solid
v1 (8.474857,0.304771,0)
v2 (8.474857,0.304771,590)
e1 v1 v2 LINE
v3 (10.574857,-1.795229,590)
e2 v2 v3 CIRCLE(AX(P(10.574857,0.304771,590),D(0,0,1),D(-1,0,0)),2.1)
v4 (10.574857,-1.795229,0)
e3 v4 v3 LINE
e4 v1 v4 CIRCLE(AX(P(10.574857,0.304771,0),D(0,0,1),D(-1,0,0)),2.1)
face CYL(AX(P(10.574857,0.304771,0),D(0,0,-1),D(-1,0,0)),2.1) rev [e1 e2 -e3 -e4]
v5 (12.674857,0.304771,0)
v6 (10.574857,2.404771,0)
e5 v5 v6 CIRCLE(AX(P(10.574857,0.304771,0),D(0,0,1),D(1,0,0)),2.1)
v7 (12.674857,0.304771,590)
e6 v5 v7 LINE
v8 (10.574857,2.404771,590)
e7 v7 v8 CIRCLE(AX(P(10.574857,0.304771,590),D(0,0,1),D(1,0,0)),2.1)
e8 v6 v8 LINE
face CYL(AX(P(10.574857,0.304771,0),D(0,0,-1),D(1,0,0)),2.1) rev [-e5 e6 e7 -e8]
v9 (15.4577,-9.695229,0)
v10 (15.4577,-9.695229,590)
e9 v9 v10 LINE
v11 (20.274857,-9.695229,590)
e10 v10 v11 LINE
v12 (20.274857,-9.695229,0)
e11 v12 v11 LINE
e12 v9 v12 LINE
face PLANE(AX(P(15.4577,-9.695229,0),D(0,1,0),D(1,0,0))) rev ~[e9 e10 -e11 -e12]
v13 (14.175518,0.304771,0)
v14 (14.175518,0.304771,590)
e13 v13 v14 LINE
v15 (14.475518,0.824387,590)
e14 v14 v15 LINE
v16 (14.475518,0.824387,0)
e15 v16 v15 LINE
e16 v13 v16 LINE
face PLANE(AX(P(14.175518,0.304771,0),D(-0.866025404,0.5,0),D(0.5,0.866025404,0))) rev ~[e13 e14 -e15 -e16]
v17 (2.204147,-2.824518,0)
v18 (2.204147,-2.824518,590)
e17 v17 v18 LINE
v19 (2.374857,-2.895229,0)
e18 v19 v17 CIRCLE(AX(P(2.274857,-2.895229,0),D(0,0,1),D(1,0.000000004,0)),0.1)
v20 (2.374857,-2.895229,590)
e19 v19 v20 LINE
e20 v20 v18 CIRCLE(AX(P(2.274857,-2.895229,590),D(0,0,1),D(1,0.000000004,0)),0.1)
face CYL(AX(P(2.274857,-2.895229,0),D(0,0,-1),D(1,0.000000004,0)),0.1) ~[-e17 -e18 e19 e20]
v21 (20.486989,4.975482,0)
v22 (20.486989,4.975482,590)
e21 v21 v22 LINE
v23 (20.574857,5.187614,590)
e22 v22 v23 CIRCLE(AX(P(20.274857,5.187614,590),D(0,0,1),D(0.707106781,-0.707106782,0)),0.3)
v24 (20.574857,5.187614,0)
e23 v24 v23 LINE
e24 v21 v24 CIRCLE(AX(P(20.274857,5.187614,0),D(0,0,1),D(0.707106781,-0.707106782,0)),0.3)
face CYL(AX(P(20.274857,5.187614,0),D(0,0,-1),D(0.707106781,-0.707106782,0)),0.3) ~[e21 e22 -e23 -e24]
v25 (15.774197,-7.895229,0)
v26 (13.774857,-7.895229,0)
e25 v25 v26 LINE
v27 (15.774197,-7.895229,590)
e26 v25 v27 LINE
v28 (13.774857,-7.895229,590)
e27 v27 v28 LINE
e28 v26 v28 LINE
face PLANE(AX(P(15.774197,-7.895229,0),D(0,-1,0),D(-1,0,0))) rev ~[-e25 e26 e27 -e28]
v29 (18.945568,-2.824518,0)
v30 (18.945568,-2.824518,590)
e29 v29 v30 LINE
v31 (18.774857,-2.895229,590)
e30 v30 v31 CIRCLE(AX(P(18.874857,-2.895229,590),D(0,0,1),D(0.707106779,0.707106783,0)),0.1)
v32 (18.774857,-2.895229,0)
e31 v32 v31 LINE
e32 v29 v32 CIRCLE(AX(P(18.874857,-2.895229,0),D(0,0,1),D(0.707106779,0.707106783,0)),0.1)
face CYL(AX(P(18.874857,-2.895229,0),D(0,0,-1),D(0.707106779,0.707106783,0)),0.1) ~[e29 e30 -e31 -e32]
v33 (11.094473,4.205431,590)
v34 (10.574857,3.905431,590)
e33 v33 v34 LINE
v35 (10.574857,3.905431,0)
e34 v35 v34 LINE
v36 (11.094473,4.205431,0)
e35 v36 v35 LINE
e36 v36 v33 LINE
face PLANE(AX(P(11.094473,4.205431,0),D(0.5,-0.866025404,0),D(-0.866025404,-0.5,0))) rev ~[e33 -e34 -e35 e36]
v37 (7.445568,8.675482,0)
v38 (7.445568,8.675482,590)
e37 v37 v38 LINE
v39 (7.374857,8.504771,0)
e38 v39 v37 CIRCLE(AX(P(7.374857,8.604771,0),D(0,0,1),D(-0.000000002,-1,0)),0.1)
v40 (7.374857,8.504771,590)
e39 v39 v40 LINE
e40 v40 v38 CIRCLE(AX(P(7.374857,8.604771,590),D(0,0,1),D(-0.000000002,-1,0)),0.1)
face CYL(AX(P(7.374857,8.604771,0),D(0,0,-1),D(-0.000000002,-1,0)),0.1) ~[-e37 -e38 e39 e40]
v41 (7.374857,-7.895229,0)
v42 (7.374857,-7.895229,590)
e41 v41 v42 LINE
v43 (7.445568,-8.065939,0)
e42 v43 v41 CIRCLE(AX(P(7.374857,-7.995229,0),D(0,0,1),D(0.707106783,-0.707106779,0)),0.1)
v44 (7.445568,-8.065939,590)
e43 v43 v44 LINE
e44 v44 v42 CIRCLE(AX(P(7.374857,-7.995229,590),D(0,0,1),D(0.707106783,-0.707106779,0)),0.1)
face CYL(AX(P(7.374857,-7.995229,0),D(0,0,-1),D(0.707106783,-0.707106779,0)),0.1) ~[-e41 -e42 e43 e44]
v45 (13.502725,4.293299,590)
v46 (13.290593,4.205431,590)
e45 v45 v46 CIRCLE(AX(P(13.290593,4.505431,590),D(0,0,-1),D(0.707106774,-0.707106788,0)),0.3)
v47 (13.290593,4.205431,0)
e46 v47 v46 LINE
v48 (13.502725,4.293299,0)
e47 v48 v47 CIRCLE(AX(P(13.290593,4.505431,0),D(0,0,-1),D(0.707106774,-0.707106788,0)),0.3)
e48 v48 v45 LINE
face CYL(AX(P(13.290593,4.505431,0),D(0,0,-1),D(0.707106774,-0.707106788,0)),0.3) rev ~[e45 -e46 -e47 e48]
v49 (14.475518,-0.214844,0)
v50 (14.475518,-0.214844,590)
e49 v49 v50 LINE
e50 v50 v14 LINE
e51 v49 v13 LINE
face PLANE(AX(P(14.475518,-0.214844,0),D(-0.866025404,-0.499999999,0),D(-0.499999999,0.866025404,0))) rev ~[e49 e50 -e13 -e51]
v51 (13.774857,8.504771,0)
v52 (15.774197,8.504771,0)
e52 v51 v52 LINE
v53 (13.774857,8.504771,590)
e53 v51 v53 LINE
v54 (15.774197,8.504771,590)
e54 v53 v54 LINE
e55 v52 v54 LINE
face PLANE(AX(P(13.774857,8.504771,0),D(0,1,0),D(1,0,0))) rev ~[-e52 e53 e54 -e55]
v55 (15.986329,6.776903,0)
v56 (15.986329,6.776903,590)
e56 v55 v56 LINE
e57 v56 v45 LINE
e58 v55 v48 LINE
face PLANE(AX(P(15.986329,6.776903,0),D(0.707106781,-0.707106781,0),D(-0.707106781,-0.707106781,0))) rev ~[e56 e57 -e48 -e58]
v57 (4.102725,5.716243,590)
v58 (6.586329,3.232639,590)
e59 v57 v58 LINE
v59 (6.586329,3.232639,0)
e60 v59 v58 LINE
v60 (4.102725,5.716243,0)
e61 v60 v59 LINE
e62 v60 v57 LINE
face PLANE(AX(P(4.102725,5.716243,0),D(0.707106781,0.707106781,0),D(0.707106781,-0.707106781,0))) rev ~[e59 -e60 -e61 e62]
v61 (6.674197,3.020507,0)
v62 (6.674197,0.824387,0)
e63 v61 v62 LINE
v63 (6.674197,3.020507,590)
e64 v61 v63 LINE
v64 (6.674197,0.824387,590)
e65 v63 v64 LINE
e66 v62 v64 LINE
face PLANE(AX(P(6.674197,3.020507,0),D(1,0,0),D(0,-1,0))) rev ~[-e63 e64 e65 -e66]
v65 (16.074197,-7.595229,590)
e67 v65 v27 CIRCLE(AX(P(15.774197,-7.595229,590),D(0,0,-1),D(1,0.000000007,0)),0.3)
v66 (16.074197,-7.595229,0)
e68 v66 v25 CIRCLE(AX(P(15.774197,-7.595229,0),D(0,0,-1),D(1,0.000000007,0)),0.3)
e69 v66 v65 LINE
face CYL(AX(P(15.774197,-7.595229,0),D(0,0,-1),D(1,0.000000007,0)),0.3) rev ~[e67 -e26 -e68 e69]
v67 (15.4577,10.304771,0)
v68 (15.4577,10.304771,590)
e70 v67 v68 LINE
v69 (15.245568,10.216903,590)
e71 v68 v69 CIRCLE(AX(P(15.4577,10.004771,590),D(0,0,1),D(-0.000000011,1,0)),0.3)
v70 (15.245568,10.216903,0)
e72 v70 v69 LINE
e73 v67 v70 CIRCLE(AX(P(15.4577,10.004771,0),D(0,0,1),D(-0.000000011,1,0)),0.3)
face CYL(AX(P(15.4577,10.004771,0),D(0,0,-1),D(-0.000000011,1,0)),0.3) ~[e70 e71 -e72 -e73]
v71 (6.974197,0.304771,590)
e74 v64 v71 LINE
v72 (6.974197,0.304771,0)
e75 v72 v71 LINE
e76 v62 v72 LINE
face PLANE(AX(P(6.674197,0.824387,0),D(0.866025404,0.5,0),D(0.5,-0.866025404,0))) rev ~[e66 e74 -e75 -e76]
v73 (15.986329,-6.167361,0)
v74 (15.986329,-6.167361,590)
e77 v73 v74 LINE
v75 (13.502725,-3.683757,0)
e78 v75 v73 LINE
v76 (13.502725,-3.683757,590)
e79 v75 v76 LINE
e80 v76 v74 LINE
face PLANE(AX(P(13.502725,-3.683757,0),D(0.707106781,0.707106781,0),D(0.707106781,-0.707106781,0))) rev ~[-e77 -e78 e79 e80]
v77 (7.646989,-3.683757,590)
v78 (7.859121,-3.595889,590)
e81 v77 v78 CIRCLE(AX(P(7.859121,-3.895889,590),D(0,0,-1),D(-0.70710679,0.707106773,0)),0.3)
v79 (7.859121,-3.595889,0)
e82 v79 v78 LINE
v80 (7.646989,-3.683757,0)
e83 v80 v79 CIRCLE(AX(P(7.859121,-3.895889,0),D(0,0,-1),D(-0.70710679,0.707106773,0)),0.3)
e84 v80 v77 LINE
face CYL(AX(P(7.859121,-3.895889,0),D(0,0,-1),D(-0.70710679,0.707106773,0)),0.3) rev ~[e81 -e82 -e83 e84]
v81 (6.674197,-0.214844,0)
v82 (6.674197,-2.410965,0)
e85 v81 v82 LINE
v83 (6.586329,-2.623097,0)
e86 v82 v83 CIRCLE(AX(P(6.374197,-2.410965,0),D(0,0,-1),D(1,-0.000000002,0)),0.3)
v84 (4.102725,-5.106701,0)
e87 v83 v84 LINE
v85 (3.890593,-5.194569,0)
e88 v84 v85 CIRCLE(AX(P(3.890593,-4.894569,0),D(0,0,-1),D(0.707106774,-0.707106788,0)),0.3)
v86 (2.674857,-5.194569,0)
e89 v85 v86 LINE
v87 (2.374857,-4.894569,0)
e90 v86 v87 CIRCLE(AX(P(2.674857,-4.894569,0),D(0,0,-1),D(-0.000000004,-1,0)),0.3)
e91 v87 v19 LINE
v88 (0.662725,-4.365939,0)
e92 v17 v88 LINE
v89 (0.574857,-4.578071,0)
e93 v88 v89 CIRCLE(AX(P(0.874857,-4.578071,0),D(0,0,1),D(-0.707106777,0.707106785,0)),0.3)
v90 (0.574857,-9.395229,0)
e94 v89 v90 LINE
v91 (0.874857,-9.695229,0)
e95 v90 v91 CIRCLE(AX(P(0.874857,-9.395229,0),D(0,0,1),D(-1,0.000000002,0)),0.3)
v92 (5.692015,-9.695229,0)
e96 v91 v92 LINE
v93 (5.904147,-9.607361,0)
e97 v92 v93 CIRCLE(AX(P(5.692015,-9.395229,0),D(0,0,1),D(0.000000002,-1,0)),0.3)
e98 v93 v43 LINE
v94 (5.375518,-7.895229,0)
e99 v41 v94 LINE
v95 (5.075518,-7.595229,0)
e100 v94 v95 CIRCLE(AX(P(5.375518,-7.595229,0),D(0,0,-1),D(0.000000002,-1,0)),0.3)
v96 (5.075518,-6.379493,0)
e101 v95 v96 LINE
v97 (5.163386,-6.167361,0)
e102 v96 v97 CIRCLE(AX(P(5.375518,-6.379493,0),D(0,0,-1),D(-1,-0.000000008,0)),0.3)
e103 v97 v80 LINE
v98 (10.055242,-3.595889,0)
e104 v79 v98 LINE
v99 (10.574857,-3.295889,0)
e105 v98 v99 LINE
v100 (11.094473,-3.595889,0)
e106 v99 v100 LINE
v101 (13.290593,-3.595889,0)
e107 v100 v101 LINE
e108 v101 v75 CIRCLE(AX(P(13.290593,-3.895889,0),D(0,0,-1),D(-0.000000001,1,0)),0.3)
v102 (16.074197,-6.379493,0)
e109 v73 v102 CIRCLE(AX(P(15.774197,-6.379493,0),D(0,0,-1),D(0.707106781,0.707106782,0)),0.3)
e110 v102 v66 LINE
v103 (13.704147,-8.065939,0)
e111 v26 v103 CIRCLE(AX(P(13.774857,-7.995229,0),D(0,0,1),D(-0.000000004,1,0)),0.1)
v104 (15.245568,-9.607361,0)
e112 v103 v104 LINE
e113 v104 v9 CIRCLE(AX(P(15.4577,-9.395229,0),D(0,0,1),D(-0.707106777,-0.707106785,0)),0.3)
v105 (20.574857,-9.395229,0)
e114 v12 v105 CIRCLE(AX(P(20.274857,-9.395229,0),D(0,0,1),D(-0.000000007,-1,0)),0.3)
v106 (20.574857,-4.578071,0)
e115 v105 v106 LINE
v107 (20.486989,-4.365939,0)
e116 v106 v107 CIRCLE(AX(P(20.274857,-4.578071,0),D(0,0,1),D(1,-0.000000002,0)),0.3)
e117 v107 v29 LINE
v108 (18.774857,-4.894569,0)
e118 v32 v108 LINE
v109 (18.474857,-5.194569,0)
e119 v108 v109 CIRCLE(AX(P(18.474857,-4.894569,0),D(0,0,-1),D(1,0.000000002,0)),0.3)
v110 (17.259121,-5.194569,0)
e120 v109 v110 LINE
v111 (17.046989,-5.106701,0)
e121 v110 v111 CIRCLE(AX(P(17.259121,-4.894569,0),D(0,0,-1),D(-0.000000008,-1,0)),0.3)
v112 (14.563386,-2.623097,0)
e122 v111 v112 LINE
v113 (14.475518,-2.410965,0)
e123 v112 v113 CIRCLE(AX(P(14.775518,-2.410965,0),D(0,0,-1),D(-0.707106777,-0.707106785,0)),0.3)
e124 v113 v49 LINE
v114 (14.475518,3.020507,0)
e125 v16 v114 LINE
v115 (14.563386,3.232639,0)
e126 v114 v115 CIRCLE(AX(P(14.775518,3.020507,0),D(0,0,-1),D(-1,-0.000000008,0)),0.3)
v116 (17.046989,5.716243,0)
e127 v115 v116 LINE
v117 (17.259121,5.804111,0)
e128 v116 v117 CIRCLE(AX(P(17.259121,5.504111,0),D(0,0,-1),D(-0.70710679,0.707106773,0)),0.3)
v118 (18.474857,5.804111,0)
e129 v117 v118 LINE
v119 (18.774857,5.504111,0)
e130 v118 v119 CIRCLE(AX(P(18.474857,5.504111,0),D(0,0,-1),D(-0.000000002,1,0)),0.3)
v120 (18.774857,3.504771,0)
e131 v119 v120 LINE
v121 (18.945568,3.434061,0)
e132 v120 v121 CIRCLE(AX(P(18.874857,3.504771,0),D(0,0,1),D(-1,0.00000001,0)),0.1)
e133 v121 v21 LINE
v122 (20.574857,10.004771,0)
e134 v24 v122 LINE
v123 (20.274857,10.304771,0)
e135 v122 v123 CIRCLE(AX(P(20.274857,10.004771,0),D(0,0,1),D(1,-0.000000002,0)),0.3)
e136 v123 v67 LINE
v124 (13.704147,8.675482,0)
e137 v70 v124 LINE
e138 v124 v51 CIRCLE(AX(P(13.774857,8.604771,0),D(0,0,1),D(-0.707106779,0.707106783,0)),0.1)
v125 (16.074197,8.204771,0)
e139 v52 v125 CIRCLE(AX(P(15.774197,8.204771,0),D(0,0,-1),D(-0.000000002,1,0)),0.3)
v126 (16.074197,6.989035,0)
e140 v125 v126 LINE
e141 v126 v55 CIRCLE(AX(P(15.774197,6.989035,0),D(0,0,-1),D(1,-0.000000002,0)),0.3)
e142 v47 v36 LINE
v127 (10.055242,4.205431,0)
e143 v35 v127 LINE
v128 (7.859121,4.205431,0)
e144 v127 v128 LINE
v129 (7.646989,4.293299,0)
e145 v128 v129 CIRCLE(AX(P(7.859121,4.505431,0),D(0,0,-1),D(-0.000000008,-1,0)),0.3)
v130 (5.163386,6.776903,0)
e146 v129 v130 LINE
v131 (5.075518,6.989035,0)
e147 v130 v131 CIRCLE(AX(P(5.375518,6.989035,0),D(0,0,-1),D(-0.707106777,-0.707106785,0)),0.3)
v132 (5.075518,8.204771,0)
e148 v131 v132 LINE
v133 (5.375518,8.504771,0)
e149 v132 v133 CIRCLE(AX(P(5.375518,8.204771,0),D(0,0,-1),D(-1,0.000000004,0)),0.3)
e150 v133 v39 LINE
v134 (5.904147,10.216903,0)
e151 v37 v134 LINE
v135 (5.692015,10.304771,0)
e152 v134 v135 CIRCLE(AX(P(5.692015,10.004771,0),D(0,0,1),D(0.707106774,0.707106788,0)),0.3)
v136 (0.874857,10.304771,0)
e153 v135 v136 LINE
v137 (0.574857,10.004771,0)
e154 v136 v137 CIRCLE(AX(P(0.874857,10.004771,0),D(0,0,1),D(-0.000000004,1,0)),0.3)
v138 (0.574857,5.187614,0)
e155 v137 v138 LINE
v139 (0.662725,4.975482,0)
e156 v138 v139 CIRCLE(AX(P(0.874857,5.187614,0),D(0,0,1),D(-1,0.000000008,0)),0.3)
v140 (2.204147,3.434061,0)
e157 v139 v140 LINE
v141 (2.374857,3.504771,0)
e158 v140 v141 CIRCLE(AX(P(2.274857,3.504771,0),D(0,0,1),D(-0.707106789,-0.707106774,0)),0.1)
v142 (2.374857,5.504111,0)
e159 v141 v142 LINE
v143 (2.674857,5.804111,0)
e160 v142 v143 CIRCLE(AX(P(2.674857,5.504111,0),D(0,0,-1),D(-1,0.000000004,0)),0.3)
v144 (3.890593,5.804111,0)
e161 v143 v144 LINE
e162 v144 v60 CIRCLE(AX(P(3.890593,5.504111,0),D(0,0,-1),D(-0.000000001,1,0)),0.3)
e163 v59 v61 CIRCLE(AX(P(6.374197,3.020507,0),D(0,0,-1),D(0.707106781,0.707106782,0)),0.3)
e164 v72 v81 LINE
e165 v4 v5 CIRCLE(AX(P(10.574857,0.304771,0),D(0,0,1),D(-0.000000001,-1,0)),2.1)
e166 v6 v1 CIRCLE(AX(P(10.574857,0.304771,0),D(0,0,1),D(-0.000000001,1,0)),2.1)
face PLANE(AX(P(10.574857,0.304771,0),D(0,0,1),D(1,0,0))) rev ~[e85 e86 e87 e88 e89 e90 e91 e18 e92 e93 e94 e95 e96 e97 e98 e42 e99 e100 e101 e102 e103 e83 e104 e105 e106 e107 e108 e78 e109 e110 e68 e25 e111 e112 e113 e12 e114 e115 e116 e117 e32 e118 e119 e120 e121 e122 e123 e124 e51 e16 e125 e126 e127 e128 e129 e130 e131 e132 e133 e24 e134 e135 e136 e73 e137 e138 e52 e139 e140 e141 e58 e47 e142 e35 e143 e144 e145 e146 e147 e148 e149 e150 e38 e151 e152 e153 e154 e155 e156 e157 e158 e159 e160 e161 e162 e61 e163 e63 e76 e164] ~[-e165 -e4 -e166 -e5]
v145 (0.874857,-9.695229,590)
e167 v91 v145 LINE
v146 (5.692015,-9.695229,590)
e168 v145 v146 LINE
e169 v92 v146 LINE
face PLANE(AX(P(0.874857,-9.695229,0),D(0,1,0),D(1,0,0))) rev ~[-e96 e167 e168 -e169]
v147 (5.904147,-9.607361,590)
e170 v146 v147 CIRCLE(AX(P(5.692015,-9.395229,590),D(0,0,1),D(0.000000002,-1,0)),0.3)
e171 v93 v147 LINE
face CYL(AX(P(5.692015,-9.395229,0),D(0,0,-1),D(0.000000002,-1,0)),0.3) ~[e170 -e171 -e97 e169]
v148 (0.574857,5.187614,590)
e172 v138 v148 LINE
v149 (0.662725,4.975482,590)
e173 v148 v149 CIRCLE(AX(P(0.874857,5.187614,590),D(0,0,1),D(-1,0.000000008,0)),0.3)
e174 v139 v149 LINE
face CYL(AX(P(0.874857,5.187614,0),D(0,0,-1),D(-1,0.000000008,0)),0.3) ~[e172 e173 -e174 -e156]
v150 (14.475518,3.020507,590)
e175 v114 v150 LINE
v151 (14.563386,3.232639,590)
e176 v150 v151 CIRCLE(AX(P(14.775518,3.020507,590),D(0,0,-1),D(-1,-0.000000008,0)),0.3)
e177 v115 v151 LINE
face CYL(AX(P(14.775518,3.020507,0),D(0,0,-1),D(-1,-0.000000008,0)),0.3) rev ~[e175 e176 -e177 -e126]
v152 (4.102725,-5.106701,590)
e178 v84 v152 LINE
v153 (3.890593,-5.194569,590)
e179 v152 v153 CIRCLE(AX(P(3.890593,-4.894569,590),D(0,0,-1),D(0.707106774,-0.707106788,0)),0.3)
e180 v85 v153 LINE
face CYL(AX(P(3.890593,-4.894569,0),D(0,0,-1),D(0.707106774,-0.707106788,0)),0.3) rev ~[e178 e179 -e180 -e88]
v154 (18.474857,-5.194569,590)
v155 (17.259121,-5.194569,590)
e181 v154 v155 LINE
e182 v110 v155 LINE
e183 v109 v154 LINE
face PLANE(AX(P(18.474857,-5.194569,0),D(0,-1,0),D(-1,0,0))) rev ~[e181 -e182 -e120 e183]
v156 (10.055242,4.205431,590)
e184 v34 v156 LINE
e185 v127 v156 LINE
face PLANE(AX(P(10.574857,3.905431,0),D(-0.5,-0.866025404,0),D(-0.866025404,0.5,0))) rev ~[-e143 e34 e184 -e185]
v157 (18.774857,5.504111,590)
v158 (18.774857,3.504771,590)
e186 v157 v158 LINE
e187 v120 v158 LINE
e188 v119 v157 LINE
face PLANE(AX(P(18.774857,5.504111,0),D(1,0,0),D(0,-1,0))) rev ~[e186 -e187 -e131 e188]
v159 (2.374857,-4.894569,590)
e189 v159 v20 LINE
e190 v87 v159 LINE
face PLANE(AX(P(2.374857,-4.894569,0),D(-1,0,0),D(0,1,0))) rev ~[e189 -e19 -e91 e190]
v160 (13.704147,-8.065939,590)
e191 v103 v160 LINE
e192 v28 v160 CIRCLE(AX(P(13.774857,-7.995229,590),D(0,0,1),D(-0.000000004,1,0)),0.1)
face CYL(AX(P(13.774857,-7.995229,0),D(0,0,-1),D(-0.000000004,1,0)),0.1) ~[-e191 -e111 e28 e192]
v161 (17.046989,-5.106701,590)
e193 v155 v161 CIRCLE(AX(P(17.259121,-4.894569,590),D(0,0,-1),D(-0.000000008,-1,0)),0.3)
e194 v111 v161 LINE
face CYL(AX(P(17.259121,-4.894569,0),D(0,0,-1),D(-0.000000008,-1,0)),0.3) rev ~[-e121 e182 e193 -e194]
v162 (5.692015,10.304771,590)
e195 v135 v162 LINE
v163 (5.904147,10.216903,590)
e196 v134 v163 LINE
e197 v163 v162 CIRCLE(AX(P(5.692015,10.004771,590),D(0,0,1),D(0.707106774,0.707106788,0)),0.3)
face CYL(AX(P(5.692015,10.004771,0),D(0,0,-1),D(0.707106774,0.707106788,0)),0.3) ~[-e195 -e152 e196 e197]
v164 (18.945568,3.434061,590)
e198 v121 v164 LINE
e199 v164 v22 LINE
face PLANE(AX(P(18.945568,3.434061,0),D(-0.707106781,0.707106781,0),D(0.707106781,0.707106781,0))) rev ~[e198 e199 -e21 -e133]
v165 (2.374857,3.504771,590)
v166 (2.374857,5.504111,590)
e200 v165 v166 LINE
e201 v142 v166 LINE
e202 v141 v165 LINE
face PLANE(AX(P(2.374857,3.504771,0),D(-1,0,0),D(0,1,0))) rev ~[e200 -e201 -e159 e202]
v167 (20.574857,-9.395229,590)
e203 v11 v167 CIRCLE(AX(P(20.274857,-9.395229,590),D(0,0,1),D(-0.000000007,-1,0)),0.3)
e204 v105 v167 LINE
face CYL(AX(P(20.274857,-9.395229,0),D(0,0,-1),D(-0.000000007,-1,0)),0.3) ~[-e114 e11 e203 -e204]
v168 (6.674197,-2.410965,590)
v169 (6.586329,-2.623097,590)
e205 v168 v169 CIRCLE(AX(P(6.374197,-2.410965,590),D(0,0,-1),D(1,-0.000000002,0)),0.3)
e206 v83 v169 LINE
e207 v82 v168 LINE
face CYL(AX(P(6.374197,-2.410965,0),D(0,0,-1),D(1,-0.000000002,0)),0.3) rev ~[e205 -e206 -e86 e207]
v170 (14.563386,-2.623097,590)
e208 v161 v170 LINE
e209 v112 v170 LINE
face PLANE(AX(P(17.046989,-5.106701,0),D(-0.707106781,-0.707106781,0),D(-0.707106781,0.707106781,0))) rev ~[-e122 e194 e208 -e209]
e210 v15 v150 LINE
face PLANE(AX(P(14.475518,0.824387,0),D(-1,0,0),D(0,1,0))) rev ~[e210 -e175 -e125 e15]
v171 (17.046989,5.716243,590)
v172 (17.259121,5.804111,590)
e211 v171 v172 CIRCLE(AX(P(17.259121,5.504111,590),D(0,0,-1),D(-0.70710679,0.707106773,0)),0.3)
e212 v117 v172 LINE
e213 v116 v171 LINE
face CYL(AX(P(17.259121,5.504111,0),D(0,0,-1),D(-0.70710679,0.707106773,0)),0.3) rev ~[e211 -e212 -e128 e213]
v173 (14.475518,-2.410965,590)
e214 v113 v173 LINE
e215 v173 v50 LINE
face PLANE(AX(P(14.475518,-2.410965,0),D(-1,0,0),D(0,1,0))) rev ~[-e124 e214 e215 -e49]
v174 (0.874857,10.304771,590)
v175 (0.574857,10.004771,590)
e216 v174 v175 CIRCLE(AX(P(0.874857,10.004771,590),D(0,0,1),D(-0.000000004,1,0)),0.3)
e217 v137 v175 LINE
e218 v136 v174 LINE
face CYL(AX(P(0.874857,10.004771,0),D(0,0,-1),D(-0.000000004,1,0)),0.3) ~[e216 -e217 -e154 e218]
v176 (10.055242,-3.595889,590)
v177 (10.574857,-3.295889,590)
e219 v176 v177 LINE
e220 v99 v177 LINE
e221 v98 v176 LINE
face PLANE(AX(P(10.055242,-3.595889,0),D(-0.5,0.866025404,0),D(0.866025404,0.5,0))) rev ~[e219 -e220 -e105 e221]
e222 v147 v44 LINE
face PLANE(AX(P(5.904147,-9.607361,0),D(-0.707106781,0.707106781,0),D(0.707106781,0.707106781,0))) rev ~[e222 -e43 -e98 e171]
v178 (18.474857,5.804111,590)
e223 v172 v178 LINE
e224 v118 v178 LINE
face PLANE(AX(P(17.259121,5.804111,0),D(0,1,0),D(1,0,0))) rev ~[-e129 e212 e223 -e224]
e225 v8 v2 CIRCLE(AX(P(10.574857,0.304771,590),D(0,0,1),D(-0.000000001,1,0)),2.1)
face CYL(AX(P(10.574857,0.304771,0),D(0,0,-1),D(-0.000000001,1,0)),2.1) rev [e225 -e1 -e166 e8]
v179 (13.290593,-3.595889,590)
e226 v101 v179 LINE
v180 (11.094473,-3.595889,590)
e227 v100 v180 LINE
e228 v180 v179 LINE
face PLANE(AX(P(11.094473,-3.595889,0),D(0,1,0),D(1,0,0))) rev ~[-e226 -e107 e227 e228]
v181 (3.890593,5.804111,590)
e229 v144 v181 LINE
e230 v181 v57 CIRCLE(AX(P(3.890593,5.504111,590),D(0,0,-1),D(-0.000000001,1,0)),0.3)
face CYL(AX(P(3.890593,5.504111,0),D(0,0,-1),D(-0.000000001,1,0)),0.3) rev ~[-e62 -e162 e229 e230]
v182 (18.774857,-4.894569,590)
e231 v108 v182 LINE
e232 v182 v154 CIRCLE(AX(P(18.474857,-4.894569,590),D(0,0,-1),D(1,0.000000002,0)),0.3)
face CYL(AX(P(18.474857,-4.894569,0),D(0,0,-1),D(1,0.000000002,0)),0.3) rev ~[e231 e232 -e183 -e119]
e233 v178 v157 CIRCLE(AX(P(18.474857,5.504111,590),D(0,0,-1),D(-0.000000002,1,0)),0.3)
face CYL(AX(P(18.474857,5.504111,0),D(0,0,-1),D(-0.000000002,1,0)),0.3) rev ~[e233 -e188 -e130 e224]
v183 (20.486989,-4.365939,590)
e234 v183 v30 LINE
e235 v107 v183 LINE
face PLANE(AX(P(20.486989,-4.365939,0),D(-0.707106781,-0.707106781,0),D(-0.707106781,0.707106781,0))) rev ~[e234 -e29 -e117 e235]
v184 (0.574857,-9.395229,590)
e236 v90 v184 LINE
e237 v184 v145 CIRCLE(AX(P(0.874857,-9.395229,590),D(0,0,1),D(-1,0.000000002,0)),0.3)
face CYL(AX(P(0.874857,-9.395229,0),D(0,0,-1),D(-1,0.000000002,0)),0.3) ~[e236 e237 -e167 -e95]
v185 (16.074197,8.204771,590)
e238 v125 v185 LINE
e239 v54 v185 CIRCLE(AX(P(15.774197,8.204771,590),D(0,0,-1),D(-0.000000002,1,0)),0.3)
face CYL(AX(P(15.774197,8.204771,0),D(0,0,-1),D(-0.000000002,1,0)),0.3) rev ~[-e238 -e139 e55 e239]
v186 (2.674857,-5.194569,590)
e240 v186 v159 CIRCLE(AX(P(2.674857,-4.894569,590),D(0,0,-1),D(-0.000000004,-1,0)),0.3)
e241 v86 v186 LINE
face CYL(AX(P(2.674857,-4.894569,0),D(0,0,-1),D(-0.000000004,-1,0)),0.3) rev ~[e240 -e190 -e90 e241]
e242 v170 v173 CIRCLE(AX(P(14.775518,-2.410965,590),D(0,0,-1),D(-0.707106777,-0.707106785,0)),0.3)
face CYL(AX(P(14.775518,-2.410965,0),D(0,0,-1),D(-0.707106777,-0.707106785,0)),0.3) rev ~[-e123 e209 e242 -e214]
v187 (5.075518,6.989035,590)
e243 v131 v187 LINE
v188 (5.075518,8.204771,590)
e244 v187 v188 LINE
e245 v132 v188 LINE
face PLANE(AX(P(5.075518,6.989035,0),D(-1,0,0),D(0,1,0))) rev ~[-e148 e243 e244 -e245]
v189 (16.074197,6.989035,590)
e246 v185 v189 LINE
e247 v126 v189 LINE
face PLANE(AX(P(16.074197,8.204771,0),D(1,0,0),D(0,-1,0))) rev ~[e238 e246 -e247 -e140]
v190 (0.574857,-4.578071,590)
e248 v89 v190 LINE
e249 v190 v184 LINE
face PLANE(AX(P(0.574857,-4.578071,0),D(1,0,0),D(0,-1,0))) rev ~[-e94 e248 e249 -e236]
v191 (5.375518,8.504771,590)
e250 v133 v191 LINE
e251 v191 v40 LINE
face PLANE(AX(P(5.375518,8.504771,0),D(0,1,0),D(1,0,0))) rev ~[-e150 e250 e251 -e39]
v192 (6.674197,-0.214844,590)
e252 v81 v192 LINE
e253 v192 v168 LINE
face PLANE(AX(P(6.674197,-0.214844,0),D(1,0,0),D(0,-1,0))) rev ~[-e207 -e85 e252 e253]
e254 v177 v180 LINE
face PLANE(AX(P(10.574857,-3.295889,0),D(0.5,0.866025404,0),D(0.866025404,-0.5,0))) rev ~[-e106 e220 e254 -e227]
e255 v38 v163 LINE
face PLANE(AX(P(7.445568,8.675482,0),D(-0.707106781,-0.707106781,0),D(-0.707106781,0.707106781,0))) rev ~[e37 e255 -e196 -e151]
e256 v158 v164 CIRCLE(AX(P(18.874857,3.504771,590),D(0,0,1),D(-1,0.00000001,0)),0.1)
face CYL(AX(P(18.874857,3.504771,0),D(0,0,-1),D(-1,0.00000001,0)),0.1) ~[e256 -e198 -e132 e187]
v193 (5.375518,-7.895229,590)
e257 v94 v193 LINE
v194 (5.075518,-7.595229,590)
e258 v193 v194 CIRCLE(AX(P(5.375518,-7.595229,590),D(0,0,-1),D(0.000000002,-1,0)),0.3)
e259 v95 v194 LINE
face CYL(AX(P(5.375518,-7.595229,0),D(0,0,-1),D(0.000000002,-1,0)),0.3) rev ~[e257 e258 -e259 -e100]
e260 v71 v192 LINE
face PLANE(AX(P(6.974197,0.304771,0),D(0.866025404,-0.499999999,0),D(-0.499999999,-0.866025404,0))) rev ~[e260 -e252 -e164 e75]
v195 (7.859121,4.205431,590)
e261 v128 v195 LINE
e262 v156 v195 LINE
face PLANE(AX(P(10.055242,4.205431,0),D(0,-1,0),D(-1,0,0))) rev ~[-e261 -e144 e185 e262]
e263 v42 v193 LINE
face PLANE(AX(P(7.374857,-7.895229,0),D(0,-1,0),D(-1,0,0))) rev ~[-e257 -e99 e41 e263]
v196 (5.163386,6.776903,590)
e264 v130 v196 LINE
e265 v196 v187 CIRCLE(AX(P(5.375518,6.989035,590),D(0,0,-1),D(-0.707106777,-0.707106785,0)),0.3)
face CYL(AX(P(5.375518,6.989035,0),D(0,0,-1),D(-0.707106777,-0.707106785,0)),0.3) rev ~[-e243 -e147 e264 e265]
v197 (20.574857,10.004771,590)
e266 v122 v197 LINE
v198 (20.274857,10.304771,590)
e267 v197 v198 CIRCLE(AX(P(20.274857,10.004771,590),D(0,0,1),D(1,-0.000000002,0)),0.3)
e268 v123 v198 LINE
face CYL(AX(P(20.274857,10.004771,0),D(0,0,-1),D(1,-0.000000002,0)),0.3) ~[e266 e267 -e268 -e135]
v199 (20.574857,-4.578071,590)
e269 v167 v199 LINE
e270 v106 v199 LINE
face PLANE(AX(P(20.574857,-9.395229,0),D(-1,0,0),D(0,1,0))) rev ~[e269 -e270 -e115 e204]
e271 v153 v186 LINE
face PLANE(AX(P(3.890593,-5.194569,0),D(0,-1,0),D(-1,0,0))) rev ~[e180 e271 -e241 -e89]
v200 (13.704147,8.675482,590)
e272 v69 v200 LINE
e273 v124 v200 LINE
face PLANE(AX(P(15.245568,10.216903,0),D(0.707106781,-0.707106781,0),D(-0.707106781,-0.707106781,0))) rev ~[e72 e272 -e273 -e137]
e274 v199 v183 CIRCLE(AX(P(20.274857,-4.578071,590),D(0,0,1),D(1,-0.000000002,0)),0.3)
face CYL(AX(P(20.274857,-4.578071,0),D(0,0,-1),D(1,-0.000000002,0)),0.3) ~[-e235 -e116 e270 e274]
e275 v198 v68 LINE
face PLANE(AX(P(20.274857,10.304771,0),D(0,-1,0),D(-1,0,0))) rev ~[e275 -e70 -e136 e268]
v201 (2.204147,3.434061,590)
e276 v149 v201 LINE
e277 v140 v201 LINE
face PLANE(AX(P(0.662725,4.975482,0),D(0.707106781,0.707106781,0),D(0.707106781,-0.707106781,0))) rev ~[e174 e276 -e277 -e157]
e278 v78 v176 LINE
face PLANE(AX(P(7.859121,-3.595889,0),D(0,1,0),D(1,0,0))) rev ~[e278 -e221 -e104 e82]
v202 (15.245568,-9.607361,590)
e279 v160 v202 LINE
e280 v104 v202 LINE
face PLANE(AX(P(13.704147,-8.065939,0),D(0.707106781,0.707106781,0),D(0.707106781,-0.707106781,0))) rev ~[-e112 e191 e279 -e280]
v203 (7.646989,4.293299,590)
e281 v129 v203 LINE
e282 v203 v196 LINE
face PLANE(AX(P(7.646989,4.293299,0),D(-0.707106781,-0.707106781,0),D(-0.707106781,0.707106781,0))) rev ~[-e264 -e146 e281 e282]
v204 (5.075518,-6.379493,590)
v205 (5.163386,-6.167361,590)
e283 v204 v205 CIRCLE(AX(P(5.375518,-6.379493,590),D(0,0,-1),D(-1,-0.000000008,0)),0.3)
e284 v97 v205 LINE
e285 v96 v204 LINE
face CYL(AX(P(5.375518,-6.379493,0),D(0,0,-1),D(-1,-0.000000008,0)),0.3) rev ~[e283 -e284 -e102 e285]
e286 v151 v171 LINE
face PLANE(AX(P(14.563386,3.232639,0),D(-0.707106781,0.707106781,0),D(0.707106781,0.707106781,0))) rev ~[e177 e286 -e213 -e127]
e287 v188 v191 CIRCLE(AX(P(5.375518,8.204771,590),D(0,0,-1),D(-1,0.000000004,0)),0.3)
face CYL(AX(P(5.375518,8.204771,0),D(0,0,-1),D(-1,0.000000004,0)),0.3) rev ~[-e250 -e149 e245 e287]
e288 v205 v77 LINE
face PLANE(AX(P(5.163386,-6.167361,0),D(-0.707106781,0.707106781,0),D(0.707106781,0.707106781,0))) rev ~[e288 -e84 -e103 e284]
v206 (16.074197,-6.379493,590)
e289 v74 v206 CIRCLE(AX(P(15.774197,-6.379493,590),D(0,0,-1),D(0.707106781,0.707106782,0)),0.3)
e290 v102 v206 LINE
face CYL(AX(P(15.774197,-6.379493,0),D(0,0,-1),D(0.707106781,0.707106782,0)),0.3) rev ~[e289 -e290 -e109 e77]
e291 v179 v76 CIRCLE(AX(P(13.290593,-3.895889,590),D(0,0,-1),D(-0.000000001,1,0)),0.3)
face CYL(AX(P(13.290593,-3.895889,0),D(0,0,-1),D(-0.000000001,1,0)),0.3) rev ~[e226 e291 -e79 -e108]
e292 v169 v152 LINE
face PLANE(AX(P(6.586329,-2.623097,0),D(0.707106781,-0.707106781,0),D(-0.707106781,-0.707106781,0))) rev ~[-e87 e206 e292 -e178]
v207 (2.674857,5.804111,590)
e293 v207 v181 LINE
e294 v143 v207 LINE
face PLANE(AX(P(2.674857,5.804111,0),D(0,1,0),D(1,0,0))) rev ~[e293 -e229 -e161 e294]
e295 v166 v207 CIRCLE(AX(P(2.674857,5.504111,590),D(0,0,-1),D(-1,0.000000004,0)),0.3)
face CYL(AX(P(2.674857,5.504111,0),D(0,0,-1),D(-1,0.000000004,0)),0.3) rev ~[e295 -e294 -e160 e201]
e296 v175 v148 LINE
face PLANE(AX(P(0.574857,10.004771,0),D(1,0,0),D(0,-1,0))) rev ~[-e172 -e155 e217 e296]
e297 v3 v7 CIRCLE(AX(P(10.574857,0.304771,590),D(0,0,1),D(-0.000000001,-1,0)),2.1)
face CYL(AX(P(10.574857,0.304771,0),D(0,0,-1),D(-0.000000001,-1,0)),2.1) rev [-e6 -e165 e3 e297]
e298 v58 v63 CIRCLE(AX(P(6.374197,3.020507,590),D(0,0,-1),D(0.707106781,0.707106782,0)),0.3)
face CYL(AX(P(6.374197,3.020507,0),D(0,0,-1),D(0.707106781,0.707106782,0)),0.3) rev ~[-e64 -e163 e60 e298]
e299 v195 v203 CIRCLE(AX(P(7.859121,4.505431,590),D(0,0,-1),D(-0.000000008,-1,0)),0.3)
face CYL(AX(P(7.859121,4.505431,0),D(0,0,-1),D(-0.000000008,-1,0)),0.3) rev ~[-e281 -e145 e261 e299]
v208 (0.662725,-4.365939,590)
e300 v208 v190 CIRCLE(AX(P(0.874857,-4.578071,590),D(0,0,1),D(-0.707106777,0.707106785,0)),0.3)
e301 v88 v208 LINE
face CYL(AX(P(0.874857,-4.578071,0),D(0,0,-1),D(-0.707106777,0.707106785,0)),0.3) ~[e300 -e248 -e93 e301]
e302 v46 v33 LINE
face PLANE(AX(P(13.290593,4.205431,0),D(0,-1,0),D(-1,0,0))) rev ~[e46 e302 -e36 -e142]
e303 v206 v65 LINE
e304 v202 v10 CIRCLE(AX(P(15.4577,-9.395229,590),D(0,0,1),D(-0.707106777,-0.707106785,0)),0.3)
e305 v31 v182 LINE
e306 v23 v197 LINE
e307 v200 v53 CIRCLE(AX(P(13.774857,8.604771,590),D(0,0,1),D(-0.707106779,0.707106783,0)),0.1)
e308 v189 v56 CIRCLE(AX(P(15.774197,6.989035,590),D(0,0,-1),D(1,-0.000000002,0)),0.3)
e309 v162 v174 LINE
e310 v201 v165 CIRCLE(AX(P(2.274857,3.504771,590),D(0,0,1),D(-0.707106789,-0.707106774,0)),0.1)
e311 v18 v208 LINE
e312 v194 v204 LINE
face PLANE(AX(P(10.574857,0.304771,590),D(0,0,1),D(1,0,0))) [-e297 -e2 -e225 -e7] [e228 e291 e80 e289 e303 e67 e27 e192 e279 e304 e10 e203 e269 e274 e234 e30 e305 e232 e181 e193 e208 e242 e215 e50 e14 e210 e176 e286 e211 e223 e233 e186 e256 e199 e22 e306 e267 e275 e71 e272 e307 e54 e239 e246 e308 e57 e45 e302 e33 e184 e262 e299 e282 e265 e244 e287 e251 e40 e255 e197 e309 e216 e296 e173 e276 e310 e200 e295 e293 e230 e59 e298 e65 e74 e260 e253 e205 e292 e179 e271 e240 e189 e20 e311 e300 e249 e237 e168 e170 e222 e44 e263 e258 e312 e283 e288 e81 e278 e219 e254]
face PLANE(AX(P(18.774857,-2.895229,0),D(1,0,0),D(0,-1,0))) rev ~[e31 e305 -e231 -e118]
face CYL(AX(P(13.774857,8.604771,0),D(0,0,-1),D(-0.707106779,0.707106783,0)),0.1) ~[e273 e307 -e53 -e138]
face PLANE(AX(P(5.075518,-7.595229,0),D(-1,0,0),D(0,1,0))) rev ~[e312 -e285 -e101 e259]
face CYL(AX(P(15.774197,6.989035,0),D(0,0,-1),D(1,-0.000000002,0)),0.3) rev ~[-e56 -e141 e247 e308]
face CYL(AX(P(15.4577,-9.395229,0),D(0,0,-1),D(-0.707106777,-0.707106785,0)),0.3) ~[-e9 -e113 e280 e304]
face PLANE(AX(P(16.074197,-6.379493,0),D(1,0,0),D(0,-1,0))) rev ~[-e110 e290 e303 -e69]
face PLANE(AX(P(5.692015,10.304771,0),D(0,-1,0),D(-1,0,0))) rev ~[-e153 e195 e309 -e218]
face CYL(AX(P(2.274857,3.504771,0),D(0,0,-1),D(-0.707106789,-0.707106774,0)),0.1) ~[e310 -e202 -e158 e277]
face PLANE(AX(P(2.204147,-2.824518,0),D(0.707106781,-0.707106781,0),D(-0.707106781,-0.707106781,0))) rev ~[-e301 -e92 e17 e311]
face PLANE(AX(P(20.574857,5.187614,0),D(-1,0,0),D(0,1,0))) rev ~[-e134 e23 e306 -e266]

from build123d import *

# Parameters (mm, degrees)
BOSS_EXTRU_1_DEPTH = 590


with BuildPart() as part:
    # Esquisse1 → Boss.-Extru.1 (new body)
    with BuildSketch(Plane.XY):
        with BuildLine():
            Line((18.774857412, -2.895228684), (18.774857412, -4.894568513))
            ThreePointArc((18.774857412, -4.894568513), (18.686989447, -5.106700547), (18.474857412, -5.194568513))
            Line((18.474857412, -5.194568513), (17.259121481, -5.194568513))
            ThreePointArc((17.259121481, -5.194568513), (17.144316451, -5.171732372), (17.046989447, -5.106700547))
            Line((17.046989447, -5.106700547), (14.56338555, -2.62309665))
            ThreePointArc((14.56338555, -2.62309665), (14.498353724, -2.525769645), (14.475517584, -2.410964616))
            Line((14.475517584, -2.410964616), (14.475517584, -0.214843927))
            Line((14.475517584, -0.214843927), (14.175517584, 0.304771316))
            Line((14.175517584, 0.304771316), (14.475517584, 0.824386558))
            Line((14.475517584, 0.824386558), (14.475517584, 3.020507247))
            ThreePointArc((14.475517584, 3.020507247), (14.498353724, 3.135312277), (14.56338555, 3.232639281))
            Line((14.56338555, 3.232639281), (17.046989447, 5.716243178))
            ThreePointArc((17.046989447, 5.716243178), (17.144316451, 5.781275004), (17.259121481, 5.804111144))
            Line((17.259121481, 5.804111144), (18.474857412, 5.804111144))
            ThreePointArc((18.474857412, 5.804111144), (18.686989447, 5.716243178), (18.774857412, 5.504111144))
            Line((18.774857412, 5.504111144), (18.774857412, 3.504771316))
            ThreePointArc((18.774857412, 3.504771316), (18.836589069, 3.412383362), (18.94556809, 3.434060638))
            Line((18.94556809, 3.434060638), (20.486989447, 4.975481994))
            ThreePointArc((20.486989447, 4.975481994), (20.552021272, 5.072808998), (20.574857412, 5.187614028))
            Line((20.574857412, 5.187614028), (20.574857412, 10.004771316))
            ThreePointArc((20.574857412, 10.004771316), (20.486989447, 10.21690335), (20.274857412, 10.304771316))
            Line((20.274857412, 10.304771316), (15.457700125, 10.304771316))
            ThreePointArc((15.457700125, 10.304771316), (15.342895095, 10.281935175), (15.24556809, 10.21690335))
            Line((15.24556809, 10.21690335), (13.704146734, 8.675481994))
            ThreePointArc((13.704146734, 8.675481994), (13.682469459, 8.566502972), (13.774857412, 8.504771316))
            Line((13.774857412, 8.504771316), (15.77419724, 8.504771316))
            ThreePointArc((15.77419724, 8.504771316), (15.986329275, 8.41690335), (16.07419724, 8.204771316))
            Line((16.07419724, 8.204771316), (16.07419724, 6.989035384))
            ThreePointArc((16.07419724, 6.989035384), (16.0513611, 6.874230355), (15.986329275, 6.77690335))
            Line((15.986329275, 6.77690335), (13.502725378, 4.293299453))
            ThreePointArc((13.502725378, 4.293299453), (13.405398373, 4.228267628), (13.290593344, 4.205431487))
            Line((13.290593344, 4.205431487), (11.094472654, 4.205431487))
            Line((11.094472654, 4.205431487), (10.574857412, 3.905431487))
            Line((10.574857412, 3.905431487), (10.05524217, 4.205431487))
            Line((10.05524217, 4.205431487), (7.859121481, 4.205431487))
            ThreePointArc((7.859121481, 4.205431487), (7.744316451, 4.228267628), (7.646989447, 4.293299453))
            Line((7.646989447, 4.293299453), (5.16338555, 6.77690335))
            ThreePointArc((5.16338555, 6.77690335), (5.098353724, 6.874230355), (5.075517584, 6.989035384))
            Line((5.075517584, 6.989035384), (5.075517584, 8.204771316))
            ThreePointArc((5.075517584, 8.204771316), (5.16338555, 8.41690335), (5.375517584, 8.504771316))
            Line((5.375517584, 8.504771316), (7.374857412, 8.504771316))
            ThreePointArc((7.374857412, 8.504771316), (7.467245365, 8.566502972), (7.44556809, 8.675481994))
            Line((7.44556809, 8.675481994), (5.904146734, 10.21690335))
            ThreePointArc((5.904146734, 10.21690335), (5.806819729, 10.281935175), (5.6920147, 10.304771316))
            Line((5.6920147, 10.304771316), (0.874857412, 10.304771316))
            ThreePointArc((0.874857412, 10.304771316), (0.662725378, 10.21690335), (0.574857412, 10.004771316))
            Line((0.574857412, 10.004771316), (0.574857412, 5.187614028))
            ThreePointArc((0.574857412, 5.187614028), (0.597693552, 5.072808998), (0.662725378, 4.975481994))
            Line((0.662725378, 4.975481994), (2.204146734, 3.434060638))
            ThreePointArc((2.204146734, 3.434060638), (2.313125755, 3.412383362), (2.374857412, 3.504771316))
            Line((2.374857412, 3.504771316), (2.374857412, 5.504111144))
            ThreePointArc((2.374857412, 5.504111144), (2.462725378, 5.716243178), (2.674857412, 5.804111144))
            Line((2.674857412, 5.804111144), (3.890593344, 5.804111144))
            ThreePointArc((3.890593344, 5.804111144), (4.005398373, 5.781275004), (4.102725378, 5.716243178))
            Line((4.102725378, 5.716243178), (6.586329275, 3.232639281))
            ThreePointArc((6.586329275, 3.232639281), (6.6513611, 3.135312277), (6.67419724, 3.020507247))
            Line((6.67419724, 3.020507247), (6.67419724, 0.824386558))
            Line((6.67419724, 0.824386558), (6.97419724, 0.304771316))
            Line((6.97419724, 0.304771316), (6.67419724, -0.214843927))
            Line((6.67419724, -0.214843927), (6.67419724, -2.410964616))
            ThreePointArc((6.67419724, -2.410964616), (6.6513611, -2.525769645), (6.586329275, -2.62309665))
            Line((6.586329275, -2.62309665), (4.102725378, -5.106700547))
            ThreePointArc((4.102725378, -5.106700547), (4.005398373, -5.171732372), (3.890593344, -5.194568513))
            Line((3.890593344, -5.194568513), (2.674857412, -5.194568513))
            ThreePointArc((2.674857412, -5.194568513), (2.462725378, -5.106700547), (2.374857412, -4.894568513))
            Line((2.374857412, -4.894568513), (2.374857412, -2.895228684))
            ThreePointArc((2.374857412, -2.895228684), (2.313125755, -2.802840731), (2.204146734, -2.824518006))
            Line((2.204146734, -2.824518006), (0.662725378, -4.365939362))
            ThreePointArc((0.662725378, -4.365939362), (0.597693552, -4.463266367), (0.574857412, -4.578071397))
            Line((0.574857412, -4.578071397), (0.574857412, -9.395228684))
            ThreePointArc((0.574857412, -9.395228684), (0.662725378, -9.607360719), (0.874857412, -9.695228684))
            Line((0.874857412, -9.695228684), (5.6920147, -9.695228684))
            ThreePointArc((5.6920147, -9.695228684), (5.806819729, -9.672392544), (5.904146734, -9.607360719))
            Line((5.904146734, -9.607360719), (7.44556809, -8.065939362))
            ThreePointArc((7.44556809, -8.065939362), (7.467245365, -7.956960341), (7.374857412, -7.895228684))
            Line((7.374857412, -7.895228684), (5.375517584, -7.895228684))
            ThreePointArc((5.375517584, -7.895228684), (5.16338555, -7.807360719), (5.075517584, -7.595228684))
            Line((5.075517584, -7.595228684), (5.075517584, -6.379492753))
            ThreePointArc((5.075517584, -6.379492753), (5.098353724, -6.264687723), (5.16338555, -6.167360719))
            Line((5.16338555, -6.167360719), (7.646989447, -3.683756822))
            ThreePointArc((7.646989447, -3.683756822), (7.744316451, -3.618724996), (7.859121481, -3.595888856))
            Line((7.859121481, -3.595888856), (10.05524217, -3.595888856))
            Line((10.05524217, -3.595888856), (10.574857412, -3.295888856))
            Line((10.574857412, -3.295888856), (11.094472654, -3.595888856))
            Line((11.094472654, -3.595888856), (13.290593344, -3.595888856))
            ThreePointArc((13.290593344, -3.595888856), (13.405398373, -3.618724996), (13.502725378, -3.683756822))
            Line((13.502725378, -3.683756822), (15.986329275, -6.167360719))
            ThreePointArc((15.986329275, -6.167360719), (16.0513611, -6.264687723), (16.07419724, -6.379492753))
            Line((16.07419724, -6.379492753), (16.07419724, -7.595228684))
            ThreePointArc((16.07419724, -7.595228684), (15.986329275, -7.807360719), (15.77419724, -7.895228684))
            Line((15.77419724, -7.895228684), (13.774857412, -7.895228684))
            ThreePointArc((13.774857412, -7.895228684), (13.682469459, -7.956960341), (13.704146734, -8.065939362))
            Line((13.704146734, -8.065939362), (15.24556809, -9.607360719))
            ThreePointArc((15.24556809, -9.607360719), (15.342895095, -9.672392544), (15.457700125, -9.695228684))
            Line((15.457700125, -9.695228684), (20.274857412, -9.695228684))
            ThreePointArc((20.274857412, -9.695228684), (20.486989447, -9.607360719), (20.574857412, -9.395228684))
            Line((20.574857412, -9.395228684), (20.574857412, -4.578071397))
            ThreePointArc((20.574857412, -4.578071397), (20.552021272, -4.463266367), (20.486989447, -4.365939362))
            Line((20.486989447, -4.365939362), (18.94556809, -2.824518006))
            ThreePointArc((18.94556809, -2.824518006), (18.836589069, -2.802840731), (18.774857412, -2.895228684))
        make_face()
        with BuildLine():
            ThreePointArc((10.574857412, -1.795228684), (12.059781653, -1.180152925), (12.674857412, 0.304771316))
            ThreePointArc((12.674857412, 0.304771316), (12.059781653, 1.789695556), (10.574857412, 2.404771316))
            ThreePointArc((10.574857412, 2.404771316), (9.089933172, 1.789695556), (8.474857412, 0.304771316))
            ThreePointArc((8.474857412, 0.304771316), (9.089933172, -1.180152925), (10.574857412, -1.795228684))
        make_face(mode=Mode.SUBTRACT)
    extrude(amount=BOSS_EXTRU_1_DEPTH)


solid = part.part
